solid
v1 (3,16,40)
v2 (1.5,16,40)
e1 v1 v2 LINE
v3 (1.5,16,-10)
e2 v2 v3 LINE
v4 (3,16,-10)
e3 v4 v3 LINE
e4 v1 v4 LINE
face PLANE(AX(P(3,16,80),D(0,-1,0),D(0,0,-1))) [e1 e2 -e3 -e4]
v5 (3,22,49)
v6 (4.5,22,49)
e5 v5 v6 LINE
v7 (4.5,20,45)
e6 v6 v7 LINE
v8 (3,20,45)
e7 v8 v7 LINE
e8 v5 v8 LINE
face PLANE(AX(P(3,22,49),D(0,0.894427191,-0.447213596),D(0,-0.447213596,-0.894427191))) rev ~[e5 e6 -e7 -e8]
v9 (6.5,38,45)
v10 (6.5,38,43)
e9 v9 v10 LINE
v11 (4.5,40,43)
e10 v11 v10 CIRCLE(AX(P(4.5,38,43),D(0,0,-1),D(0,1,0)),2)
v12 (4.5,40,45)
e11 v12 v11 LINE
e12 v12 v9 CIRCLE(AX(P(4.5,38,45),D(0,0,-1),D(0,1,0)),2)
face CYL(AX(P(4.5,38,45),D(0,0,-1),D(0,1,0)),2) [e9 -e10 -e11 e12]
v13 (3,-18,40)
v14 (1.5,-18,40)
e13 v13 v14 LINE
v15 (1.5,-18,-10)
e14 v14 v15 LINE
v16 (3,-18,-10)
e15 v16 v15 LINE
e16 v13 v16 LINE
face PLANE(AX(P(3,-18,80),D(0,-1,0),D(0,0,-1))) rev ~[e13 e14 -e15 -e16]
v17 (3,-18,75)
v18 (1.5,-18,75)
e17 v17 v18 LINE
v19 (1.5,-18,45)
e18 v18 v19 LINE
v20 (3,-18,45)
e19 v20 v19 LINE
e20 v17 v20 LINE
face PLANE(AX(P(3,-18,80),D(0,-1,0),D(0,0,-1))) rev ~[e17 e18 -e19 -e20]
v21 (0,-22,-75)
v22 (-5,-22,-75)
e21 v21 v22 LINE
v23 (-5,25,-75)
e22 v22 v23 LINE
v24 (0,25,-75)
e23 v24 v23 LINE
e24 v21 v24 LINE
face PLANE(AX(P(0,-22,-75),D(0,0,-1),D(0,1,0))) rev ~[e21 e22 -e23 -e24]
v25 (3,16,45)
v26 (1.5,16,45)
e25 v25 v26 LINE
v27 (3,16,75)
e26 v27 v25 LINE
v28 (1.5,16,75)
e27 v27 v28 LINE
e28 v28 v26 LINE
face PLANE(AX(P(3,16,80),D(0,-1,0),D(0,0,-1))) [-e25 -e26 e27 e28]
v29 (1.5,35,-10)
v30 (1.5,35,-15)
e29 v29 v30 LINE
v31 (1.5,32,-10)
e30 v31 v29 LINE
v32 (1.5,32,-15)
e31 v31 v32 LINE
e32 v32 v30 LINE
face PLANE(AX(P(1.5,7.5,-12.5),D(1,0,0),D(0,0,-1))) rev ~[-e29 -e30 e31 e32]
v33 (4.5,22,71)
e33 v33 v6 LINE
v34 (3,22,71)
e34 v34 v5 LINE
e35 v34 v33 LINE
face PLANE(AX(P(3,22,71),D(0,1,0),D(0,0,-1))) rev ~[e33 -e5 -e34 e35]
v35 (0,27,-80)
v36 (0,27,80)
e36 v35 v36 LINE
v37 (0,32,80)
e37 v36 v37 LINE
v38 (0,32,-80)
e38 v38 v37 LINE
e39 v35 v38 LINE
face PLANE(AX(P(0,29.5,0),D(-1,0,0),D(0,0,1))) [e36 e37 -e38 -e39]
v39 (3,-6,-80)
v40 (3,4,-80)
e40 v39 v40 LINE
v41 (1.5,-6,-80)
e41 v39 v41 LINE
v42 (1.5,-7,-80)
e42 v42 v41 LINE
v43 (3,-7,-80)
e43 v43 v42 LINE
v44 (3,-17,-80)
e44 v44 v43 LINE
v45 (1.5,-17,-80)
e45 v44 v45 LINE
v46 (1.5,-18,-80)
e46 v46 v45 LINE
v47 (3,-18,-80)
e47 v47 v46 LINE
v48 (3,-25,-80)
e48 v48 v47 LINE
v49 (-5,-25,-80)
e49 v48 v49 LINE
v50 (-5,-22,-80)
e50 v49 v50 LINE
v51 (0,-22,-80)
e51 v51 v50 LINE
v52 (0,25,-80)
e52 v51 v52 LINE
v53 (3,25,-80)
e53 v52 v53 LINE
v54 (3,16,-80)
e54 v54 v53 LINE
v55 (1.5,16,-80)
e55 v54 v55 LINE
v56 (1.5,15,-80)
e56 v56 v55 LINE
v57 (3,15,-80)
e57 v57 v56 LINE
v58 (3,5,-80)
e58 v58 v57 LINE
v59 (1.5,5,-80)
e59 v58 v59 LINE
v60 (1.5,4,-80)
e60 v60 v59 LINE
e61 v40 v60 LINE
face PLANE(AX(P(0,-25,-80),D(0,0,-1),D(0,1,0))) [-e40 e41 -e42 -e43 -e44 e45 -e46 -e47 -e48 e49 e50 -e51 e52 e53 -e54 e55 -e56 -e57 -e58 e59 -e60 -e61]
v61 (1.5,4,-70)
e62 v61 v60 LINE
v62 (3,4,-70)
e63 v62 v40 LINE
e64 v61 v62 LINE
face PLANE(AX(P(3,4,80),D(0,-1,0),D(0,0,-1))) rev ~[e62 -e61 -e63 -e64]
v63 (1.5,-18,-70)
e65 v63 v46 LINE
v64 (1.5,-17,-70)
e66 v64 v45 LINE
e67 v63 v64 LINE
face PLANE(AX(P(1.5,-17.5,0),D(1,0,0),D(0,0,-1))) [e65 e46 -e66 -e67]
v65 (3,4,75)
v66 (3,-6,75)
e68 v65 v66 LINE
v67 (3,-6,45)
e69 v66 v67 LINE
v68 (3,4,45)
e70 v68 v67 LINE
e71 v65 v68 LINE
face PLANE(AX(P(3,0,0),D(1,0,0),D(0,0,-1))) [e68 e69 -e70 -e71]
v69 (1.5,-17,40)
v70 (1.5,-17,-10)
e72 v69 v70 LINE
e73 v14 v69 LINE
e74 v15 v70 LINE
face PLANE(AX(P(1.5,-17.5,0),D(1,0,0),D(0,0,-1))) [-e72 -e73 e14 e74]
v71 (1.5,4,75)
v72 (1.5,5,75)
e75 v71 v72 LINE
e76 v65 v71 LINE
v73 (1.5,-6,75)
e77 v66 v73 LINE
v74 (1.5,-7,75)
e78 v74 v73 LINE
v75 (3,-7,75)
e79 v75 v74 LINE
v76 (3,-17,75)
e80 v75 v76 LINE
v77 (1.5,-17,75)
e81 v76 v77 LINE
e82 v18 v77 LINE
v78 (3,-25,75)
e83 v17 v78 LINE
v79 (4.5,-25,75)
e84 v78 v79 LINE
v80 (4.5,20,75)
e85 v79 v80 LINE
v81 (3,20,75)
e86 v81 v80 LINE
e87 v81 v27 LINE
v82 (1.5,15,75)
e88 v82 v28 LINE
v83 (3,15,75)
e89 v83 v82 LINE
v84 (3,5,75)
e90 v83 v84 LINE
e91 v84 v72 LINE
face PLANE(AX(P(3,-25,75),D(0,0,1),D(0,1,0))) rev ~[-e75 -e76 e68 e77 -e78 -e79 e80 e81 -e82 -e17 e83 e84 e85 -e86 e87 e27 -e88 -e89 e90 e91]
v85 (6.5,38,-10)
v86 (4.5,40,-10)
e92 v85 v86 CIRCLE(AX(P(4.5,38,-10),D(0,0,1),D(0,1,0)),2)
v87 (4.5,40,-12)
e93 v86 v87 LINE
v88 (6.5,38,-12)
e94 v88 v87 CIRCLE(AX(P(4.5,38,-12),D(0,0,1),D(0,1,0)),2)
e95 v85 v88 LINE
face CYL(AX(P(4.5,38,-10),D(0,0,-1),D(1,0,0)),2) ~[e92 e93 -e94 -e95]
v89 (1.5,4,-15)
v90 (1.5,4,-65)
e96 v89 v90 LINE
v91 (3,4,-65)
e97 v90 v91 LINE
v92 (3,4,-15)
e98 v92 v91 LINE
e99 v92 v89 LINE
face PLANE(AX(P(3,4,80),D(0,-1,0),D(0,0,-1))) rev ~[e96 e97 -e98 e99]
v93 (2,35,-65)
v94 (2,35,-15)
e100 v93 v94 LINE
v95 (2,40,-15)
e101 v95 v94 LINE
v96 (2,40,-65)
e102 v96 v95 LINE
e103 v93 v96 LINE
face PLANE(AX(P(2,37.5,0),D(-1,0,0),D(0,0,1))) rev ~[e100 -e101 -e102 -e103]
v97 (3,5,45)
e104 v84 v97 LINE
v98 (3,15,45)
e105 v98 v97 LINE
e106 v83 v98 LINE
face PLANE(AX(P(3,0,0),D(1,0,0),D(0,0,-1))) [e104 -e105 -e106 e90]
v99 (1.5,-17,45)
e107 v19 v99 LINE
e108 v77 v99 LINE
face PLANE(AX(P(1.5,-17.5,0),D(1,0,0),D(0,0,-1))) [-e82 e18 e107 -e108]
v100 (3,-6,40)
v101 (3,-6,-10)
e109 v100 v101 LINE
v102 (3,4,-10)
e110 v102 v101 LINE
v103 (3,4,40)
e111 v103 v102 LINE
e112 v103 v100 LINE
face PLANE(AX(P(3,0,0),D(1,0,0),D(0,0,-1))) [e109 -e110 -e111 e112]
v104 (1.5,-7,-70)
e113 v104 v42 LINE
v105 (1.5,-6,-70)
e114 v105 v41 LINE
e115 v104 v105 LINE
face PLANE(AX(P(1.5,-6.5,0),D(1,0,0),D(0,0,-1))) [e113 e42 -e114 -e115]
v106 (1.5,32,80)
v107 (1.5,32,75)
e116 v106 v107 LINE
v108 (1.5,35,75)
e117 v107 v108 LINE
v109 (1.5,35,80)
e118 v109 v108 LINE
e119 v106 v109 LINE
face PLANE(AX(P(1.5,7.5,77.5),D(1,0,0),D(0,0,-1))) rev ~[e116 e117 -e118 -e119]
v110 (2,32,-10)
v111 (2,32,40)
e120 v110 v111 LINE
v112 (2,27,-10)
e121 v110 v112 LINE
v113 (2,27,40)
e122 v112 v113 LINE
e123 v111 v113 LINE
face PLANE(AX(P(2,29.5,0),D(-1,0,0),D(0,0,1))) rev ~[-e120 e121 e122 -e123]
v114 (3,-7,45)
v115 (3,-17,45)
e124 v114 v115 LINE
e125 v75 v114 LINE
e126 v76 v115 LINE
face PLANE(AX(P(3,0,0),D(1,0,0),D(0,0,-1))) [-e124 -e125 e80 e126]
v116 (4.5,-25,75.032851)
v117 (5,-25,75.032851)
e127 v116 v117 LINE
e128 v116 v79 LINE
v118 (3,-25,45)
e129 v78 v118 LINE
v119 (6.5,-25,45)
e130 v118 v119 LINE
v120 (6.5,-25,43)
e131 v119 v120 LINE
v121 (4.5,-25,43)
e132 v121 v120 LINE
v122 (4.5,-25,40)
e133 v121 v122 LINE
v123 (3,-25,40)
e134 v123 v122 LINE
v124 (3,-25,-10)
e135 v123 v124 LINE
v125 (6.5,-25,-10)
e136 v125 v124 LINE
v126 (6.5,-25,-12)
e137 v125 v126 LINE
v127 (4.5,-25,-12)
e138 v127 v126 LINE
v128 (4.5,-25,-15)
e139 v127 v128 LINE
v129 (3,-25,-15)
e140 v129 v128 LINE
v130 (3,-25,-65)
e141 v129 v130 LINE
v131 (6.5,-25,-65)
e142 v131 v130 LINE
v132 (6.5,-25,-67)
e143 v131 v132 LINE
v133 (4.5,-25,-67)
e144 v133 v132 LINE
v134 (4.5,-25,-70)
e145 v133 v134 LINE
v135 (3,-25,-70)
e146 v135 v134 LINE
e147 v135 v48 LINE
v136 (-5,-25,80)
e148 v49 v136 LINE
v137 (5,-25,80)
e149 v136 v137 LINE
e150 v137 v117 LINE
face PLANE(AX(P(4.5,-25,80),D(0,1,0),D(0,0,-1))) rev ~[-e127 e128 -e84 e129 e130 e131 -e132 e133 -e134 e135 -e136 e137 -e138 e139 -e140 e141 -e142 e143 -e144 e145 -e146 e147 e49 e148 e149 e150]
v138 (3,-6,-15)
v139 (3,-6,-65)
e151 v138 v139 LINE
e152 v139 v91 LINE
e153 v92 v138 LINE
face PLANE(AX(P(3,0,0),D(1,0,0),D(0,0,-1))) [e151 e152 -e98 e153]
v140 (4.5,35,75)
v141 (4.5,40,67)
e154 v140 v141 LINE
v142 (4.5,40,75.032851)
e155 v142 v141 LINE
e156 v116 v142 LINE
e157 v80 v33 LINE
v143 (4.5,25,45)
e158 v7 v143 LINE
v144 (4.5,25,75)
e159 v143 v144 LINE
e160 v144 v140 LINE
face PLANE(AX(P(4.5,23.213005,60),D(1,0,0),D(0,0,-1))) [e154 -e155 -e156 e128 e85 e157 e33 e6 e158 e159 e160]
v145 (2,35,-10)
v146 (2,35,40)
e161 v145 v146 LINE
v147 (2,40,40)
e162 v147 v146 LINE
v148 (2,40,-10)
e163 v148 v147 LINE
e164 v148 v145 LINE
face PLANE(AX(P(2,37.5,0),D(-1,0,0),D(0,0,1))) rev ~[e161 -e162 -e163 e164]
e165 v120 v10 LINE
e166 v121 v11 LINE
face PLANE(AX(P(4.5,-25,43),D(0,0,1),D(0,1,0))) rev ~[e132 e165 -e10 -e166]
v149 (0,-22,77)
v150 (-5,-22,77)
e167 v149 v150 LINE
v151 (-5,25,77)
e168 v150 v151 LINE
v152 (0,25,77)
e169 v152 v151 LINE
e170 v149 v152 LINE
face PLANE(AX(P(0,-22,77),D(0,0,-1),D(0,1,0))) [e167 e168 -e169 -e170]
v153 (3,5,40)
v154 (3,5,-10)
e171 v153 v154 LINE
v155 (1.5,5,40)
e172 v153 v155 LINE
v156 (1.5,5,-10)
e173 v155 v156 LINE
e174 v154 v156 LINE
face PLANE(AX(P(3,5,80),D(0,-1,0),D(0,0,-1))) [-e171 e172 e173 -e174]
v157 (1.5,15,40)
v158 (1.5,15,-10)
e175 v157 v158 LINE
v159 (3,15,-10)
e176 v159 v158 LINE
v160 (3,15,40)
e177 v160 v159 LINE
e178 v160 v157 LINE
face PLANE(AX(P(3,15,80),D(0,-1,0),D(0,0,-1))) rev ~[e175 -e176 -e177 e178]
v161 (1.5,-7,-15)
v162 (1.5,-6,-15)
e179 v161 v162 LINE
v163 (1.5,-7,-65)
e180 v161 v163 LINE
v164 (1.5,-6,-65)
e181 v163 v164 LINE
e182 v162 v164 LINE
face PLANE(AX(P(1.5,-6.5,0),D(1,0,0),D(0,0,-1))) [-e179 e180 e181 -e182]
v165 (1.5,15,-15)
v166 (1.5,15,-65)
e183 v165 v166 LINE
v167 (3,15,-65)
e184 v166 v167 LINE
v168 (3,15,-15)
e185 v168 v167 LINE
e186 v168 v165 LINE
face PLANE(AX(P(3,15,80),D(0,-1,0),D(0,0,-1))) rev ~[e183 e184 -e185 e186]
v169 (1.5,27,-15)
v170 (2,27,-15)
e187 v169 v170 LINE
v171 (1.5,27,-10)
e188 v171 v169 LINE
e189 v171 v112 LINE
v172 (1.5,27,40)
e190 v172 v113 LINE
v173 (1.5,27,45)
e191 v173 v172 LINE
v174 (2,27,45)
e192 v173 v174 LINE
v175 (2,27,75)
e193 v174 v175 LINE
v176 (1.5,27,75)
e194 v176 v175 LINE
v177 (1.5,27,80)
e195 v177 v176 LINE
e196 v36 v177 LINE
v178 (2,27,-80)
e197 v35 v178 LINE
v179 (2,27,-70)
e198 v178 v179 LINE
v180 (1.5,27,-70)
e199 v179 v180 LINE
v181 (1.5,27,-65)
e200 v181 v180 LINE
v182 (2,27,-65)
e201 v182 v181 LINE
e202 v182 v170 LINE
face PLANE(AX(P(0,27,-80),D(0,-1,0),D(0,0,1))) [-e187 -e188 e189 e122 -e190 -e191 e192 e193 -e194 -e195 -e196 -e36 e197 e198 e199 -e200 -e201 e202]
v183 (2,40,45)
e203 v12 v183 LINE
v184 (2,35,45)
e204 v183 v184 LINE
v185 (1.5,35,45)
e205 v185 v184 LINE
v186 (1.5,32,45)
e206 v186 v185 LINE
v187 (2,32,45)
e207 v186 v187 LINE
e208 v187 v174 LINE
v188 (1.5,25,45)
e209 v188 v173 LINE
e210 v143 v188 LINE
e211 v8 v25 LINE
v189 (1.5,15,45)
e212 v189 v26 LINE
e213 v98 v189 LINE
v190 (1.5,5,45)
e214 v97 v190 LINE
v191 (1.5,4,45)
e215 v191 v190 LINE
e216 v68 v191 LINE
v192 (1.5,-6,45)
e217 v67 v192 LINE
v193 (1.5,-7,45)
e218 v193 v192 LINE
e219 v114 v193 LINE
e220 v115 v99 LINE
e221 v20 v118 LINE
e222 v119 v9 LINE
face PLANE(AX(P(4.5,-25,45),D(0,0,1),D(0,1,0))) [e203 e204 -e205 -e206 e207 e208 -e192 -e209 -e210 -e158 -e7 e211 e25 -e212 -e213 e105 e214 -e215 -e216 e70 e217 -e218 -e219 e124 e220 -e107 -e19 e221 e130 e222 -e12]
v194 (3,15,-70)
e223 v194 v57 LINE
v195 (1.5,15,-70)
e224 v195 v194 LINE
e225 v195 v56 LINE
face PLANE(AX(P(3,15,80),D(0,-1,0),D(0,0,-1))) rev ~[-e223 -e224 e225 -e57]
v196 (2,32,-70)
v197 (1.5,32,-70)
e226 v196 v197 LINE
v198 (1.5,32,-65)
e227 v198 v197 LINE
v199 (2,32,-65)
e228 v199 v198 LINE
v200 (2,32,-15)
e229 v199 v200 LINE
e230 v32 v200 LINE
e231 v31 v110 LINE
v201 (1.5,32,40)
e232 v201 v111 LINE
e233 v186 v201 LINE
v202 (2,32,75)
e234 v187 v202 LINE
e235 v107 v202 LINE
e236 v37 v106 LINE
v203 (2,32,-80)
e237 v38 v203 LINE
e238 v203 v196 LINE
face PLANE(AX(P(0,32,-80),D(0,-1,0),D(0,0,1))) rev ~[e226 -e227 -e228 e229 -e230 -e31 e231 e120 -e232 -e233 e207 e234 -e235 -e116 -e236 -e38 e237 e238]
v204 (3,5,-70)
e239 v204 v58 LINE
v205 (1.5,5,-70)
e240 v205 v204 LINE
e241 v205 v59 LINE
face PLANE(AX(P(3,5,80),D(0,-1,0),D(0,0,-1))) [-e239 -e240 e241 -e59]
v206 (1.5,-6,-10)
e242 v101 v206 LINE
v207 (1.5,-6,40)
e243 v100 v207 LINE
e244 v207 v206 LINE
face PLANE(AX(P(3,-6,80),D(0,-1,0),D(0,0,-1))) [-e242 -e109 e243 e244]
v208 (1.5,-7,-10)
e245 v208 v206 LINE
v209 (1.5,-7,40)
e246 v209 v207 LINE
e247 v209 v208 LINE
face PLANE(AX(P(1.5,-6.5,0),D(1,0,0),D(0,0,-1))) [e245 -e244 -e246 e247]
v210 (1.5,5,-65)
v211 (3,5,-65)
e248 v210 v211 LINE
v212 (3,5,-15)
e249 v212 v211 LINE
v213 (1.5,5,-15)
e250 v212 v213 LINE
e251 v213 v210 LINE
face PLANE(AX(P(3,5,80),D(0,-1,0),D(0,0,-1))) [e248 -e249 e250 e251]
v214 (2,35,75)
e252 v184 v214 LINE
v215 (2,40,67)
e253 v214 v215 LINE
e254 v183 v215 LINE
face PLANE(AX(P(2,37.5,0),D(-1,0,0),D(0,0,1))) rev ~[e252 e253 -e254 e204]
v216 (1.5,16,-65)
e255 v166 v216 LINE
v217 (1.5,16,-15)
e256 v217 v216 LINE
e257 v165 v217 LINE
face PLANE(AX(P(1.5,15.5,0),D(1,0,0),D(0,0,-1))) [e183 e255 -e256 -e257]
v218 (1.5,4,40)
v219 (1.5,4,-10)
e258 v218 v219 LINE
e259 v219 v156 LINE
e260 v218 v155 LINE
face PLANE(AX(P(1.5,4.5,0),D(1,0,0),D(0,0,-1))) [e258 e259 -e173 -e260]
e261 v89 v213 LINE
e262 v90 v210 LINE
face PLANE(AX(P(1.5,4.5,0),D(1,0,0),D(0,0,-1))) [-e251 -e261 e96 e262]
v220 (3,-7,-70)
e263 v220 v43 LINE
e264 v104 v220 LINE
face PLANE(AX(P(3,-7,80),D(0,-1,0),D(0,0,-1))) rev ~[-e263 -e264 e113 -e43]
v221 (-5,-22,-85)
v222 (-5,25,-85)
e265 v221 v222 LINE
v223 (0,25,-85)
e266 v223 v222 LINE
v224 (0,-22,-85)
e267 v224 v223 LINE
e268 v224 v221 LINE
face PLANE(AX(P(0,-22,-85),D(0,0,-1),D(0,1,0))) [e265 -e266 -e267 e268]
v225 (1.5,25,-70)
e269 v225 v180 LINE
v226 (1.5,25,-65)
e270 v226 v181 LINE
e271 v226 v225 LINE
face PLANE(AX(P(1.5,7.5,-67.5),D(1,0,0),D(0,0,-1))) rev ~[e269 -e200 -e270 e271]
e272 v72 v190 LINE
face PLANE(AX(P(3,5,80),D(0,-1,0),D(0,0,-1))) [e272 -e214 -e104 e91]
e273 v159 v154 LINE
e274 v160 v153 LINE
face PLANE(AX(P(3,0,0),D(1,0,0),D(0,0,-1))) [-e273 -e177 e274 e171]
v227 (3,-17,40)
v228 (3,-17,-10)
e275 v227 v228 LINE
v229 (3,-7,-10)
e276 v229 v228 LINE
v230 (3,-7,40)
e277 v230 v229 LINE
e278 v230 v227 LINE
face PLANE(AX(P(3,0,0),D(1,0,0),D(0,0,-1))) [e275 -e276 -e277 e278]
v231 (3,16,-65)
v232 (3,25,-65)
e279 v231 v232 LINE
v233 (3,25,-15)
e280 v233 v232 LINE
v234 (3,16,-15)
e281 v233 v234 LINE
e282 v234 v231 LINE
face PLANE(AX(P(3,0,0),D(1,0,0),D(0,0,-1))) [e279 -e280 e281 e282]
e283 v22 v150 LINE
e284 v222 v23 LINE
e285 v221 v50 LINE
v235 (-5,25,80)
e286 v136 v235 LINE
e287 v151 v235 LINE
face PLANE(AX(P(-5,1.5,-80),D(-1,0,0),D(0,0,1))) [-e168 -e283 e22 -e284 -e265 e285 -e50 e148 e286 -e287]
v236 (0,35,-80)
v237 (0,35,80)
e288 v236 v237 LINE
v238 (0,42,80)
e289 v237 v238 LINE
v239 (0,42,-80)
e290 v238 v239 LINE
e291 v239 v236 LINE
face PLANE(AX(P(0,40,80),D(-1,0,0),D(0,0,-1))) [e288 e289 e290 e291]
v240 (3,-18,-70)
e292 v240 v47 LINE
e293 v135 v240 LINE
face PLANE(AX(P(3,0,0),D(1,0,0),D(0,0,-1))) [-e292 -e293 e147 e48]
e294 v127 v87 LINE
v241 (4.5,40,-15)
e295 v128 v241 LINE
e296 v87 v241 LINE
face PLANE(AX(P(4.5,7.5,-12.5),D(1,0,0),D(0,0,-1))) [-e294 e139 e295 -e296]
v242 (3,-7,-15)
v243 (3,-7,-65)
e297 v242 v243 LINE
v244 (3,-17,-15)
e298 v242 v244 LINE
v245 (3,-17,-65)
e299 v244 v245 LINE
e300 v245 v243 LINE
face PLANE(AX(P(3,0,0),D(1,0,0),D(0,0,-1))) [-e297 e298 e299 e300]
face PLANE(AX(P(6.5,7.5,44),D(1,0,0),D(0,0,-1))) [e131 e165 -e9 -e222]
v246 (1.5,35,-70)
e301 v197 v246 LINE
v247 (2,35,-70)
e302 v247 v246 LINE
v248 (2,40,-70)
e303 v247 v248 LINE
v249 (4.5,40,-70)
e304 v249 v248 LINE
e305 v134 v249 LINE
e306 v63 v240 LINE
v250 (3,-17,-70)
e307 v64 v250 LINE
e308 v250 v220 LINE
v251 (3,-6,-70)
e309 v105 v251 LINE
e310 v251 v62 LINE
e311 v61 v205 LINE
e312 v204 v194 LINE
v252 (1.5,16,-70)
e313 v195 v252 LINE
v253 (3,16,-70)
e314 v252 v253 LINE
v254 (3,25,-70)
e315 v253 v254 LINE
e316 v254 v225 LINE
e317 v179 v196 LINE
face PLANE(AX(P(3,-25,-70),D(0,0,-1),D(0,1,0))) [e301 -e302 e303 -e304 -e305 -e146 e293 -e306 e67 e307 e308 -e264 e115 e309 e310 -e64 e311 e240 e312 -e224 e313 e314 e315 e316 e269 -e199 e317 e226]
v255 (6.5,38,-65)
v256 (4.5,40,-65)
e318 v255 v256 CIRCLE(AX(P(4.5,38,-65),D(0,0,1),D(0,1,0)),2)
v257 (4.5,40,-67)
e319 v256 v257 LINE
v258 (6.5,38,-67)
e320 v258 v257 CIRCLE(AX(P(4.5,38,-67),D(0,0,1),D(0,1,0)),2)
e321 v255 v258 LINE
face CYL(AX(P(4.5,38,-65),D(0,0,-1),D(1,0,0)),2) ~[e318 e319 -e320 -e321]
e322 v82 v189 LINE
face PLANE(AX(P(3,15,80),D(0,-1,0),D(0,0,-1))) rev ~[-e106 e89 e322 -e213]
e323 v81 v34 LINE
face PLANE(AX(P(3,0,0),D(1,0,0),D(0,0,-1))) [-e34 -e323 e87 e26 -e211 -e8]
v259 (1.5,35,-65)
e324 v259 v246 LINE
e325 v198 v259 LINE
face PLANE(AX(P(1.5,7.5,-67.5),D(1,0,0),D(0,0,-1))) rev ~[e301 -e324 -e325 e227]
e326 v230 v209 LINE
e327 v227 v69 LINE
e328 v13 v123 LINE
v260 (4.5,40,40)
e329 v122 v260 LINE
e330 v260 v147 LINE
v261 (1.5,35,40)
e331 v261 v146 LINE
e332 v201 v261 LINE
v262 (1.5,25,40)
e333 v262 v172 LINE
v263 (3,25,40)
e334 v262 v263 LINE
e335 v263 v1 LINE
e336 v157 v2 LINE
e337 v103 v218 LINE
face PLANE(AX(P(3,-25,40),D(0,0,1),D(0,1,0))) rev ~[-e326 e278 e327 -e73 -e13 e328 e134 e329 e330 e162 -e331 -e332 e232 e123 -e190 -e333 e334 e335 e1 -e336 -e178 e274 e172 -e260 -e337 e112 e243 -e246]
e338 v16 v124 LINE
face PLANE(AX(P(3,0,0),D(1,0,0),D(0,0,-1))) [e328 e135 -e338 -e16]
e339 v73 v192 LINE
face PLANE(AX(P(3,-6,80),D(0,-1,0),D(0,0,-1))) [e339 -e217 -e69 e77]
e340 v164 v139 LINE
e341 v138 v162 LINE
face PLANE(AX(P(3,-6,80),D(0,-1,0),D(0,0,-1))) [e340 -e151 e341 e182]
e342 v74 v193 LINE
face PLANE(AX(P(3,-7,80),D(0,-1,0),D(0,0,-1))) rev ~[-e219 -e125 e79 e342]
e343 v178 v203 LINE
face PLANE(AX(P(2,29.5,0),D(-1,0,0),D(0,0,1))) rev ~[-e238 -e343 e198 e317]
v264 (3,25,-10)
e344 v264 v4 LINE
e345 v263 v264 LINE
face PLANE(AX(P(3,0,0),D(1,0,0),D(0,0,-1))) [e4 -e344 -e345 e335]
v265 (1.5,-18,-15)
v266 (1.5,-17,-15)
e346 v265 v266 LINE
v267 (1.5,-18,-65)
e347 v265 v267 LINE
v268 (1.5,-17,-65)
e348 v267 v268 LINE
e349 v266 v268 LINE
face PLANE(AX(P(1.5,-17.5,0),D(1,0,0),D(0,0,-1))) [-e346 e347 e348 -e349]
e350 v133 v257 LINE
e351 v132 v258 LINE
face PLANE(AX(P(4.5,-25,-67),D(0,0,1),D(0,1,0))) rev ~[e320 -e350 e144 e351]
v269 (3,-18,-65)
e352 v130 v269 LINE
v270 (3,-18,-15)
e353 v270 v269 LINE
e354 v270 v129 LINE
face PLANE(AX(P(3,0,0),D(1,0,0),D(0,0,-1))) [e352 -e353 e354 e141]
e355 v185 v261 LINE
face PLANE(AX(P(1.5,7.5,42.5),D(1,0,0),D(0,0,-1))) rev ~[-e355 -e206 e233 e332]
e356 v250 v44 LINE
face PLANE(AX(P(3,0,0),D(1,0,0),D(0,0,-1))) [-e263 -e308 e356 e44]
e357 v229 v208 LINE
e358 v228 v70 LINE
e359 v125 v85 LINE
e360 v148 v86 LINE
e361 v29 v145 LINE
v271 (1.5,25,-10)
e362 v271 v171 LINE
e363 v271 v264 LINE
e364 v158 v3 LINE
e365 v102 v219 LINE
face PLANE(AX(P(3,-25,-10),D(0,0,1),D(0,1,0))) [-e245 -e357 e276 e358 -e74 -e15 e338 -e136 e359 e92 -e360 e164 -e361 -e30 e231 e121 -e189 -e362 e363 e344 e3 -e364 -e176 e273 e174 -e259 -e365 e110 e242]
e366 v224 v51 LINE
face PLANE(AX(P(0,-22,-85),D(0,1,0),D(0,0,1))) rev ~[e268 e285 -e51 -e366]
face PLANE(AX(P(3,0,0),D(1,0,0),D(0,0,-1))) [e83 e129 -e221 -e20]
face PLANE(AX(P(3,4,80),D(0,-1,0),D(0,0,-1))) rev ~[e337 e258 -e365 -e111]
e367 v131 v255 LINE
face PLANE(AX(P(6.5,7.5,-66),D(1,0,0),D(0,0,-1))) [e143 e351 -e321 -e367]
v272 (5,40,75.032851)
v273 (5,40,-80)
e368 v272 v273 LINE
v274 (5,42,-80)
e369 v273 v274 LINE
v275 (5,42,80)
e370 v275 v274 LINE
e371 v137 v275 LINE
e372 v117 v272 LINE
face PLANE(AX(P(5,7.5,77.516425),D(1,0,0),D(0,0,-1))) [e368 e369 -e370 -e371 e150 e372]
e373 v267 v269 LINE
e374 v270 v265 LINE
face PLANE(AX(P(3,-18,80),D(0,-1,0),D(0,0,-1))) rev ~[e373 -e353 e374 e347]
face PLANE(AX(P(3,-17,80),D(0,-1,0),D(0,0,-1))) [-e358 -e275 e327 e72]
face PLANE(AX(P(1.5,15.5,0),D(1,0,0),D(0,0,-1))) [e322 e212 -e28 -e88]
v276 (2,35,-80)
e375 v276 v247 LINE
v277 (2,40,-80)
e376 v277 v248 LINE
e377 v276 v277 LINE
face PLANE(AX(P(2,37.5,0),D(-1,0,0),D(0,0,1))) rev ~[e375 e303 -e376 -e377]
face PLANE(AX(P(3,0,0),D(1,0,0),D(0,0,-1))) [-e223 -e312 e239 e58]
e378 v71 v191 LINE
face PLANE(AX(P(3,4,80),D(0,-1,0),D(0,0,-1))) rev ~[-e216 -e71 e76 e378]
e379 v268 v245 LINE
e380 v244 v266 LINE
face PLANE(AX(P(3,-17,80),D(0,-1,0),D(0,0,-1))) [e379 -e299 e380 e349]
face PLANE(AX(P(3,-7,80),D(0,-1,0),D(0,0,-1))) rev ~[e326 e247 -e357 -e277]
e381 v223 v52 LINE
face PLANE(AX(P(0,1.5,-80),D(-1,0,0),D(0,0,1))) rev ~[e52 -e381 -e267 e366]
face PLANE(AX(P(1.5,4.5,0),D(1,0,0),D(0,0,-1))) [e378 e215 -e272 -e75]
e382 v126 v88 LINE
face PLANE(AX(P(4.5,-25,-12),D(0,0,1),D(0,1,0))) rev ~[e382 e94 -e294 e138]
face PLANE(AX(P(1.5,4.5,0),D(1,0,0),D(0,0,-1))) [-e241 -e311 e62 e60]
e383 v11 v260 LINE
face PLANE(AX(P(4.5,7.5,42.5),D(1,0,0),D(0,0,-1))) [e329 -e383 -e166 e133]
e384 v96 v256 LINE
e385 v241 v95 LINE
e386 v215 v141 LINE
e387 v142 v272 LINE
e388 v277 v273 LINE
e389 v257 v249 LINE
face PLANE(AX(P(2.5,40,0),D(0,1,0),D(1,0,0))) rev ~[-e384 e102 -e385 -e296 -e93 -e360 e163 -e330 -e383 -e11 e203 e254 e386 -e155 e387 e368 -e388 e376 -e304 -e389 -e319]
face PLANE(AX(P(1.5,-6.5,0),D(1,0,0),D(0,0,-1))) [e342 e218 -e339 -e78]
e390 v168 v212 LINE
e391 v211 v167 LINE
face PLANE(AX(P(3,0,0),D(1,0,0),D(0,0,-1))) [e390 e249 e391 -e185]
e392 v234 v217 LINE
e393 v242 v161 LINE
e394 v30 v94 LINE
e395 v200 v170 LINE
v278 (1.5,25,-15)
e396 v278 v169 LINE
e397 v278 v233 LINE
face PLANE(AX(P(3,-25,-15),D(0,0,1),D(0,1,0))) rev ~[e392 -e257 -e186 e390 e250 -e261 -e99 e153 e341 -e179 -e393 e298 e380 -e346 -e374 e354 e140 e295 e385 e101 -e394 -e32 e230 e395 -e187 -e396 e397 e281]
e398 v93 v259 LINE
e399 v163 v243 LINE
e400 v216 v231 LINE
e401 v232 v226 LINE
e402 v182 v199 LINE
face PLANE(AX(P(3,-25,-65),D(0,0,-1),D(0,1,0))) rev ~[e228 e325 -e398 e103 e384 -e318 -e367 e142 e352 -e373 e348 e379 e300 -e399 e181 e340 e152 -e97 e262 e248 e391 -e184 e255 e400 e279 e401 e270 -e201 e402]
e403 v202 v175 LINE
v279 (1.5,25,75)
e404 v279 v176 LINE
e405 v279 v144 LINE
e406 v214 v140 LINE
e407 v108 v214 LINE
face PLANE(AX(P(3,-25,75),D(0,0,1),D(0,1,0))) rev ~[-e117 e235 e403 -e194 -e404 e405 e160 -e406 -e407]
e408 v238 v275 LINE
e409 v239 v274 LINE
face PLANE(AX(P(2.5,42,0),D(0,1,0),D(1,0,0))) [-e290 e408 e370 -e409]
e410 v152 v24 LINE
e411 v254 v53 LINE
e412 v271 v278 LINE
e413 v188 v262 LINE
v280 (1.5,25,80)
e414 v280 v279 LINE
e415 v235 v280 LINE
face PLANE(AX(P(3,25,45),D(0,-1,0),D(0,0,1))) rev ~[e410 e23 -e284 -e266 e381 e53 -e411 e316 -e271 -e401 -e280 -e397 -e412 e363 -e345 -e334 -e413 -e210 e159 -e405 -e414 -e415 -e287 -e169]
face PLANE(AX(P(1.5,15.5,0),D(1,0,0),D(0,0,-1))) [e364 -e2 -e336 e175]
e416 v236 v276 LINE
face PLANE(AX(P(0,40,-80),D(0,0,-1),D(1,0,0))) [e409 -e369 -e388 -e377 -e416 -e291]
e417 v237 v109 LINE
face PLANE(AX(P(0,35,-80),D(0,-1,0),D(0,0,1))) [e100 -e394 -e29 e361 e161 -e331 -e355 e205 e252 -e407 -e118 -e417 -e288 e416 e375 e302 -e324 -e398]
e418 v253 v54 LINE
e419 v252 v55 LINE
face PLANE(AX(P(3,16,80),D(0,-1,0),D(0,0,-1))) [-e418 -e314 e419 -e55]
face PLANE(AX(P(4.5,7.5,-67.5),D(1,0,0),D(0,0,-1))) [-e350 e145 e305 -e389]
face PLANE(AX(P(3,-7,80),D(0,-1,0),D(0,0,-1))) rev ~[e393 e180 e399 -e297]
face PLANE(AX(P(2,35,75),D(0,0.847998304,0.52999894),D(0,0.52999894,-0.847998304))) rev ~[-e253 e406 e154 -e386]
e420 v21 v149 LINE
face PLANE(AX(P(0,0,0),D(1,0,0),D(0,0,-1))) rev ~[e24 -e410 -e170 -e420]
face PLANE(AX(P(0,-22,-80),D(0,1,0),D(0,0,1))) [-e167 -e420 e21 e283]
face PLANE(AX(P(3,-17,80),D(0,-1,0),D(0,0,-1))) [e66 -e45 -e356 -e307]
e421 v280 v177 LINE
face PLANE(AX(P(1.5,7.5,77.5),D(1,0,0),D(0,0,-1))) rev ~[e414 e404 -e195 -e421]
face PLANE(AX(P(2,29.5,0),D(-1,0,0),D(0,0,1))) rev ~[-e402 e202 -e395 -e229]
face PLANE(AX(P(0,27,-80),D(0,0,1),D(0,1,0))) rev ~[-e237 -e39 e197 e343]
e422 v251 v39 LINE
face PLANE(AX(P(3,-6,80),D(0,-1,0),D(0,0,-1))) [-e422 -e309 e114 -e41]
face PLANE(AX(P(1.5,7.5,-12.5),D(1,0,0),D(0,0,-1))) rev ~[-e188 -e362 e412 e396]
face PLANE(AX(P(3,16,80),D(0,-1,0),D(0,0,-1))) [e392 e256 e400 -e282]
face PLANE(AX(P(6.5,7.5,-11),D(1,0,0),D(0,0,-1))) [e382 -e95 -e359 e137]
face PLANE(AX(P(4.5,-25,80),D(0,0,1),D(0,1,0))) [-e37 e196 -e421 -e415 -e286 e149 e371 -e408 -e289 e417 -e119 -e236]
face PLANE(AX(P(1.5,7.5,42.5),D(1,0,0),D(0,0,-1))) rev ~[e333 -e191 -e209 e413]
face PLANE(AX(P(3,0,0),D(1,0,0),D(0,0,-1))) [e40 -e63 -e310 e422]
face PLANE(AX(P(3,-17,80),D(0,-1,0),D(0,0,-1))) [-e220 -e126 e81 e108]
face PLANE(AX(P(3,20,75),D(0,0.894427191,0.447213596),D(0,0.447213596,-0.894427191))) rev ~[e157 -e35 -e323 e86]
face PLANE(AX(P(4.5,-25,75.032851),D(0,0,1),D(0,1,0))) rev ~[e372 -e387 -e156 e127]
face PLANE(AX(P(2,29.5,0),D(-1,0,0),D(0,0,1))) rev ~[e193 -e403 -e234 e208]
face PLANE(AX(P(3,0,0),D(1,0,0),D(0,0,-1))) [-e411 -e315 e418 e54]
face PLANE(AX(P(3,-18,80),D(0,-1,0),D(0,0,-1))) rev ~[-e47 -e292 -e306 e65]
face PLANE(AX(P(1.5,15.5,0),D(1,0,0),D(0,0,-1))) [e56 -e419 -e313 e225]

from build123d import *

# Parameters (mm, degrees)
SKETCH1_W            = 160
SKETCH1_H            = 50
BOSS_EXTRUDE1_DEPTH  = 3
SKETCH2_W            = 160
SKETCH2_H            = 1
CUT_EXTRUDE1_DEPTH   = 1.5
SKETCH3_W            = 5
SKETCH3_H            = 65
BOSS_EXTRUDE2_DEPTH  = 1.5
SKETCH4_W            = 160
SKETCH4_H            = 3
BOSS_EXTRUDE3_DEPTH  = 5
SKETCH5_W            = 3
SKETCH5_H            = 47
BOSS_EXTRUDE4_DEPTH  = 5
SKETCH6_W            = 160
SKETCH6_H            = 5
BOSS_EXTRUDE5_DEPTH  = 2
SKETCH7_W            = 2
SKETCH7_H            = 65
BOSS_EXTRUDE6_DEPTH  = 2
FILLET1_R            = 2
SKETCH8_W            = 5
SKETCH8_H            = 160
BOSS_EXTRUDE7_DEPTH  = 2
SKETCH9_W            = 10
SKETCH9_H            = 47
BOSS_EXTRUDE8_DEPTH  = 5
BOSS_EXTRUDE9_DEPTH  = 2.5
BOSS_EXTRUDE10_DEPTH = 1.5
SKETCH12_W           = 4.967149052
SKETCH12_H           = 65
BOSS_EXTRUDE11_DEPTH = 0.5


with BuildPart() as part:
    # Sketch1 → Boss-Extrude1 (new body)
    with BuildSketch(Plane(origin=(0, 0, 0), x_dir=(0, 0, -1), z_dir=(1, 0, 0))):
        Rectangle(SKETCH1_W, SKETCH1_H)
    extrude(amount=BOSS_EXTRUDE1_DEPTH)

    # Sketch2 → Cut-Extrude1 (cut)
    with BuildSketch(Plane(origin=(3, 0, 0), x_dir=(0, 0, -1), z_dir=(1, 0, 0))):
        with Locations((0, -17.5)):
            Rectangle(SKETCH2_W, SKETCH2_H)
        with Locations((0, -6.5)):
            Rectangle(SKETCH2_W, SKETCH2_H)
        with Locations((0, 4.5)):
            Rectangle(SKETCH2_W, SKETCH2_H)
        with Locations((0, 15.5)):
            Rectangle(SKETCH2_W, SKETCH2_H)
    extrude(amount=-CUT_EXTRUDE1_DEPTH, mode=Mode.SUBTRACT)

    # Sketch3 → Boss-Extrude2 (add, symmetric)
    with BuildSketch(Plane(origin=(3, 0, 0), x_dir=(0, 0, -1), z_dir=(1, 0, 0))):
        with Locations((-77.5, 7.5)):
            Rectangle(SKETCH3_W, SKETCH3_H)
        with Locations((-42.5, 7.5)):
            Rectangle(SKETCH3_W, SKETCH3_H)
        with Locations((12.5, 7.5)):
            Rectangle(SKETCH3_W, SKETCH3_H)
        with Locations((67.5, 7.5)):
            Rectangle(SKETCH3_W, SKETCH3_H)
    extrude(amount=BOSS_EXTRUDE2_DEPTH, both=True)

    # Sketch4 → Boss-Extrude3 (add)
    with BuildSketch(Plane.ZY):
        with Locations((0, -23.5)):
            Rectangle(SKETCH4_W, SKETCH4_H)
    extrude(amount=BOSS_EXTRUDE3_DEPTH)

    # Sketch5 → Boss-Extrude4 (add)
    with BuildSketch(Plane.ZY):
        with Locations((78.5, 1.5)):
            Rectangle(SKETCH5_W, SKETCH5_H)
    extrude(amount=BOSS_EXTRUDE4_DEPTH)

    # Sketch6 → Boss-Extrude5 (add)
    with BuildSketch(Plane.ZY):
        with Locations((0, 29.5)):
            Rectangle(SKETCH6_W, SKETCH6_H)
        with Locations((0, 37.5)):
            Rectangle(SKETCH6_W, SKETCH6_H)
    extrude(amount=-BOSS_EXTRUDE5_DEPTH)

    # Sketch7 → Boss-Extrude6 (add)
    with BuildSketch(Plane(origin=(4.5, 0, 0), x_dir=(0, 0, -1), z_dir=(1, 0, 0))):
        with Locations((-44, 7.5)):
            Rectangle(SKETCH7_W, SKETCH7_H)
        with Locations((11, 7.5)):
            Rectangle(SKETCH7_W, SKETCH7_H)
        with Locations((66, 7.5)):
            Rectangle(SKETCH7_W, SKETCH7_H)
    extrude(amount=BOSS_EXTRUDE6_DEPTH)

    # Fillet1
    fillet1_edges = [part.edges().sort_by_distance(p)[0] for p in [
        (6.5, 40, -66),
        (6.5, 40, -11),
        (6.5, 40, 44),
    ]]
    fillet(fillet1_edges, radius=FILLET1_R)

    # Sketch8 → Boss-Extrude7 (add)
    with BuildSketch(Plane(origin=(0, 40, 0), x_dir=(1, 0, 0), z_dir=(0, 1, 0))):
        with Locations((2.5, 0)):
            Rectangle(SKETCH8_W, SKETCH8_H)
    extrude(amount=BOSS_EXTRUDE7_DEPTH)

    # Sketch9 → Boss-Extrude8 (add)
    with BuildSketch(Plane.ZY):
        with Locations((-80, 1.5)):
            Rectangle(SKETCH9_W, SKETCH9_H)
    extrude(amount=BOSS_EXTRUDE8_DEPTH)

    # Sketch10 → Boss-Extrude9 (add)
    with BuildSketch(Plane(origin=(2, 0, 0), x_dir=(0, 0, -1), z_dir=(1, 0, 0))):
        Polygon((-75, 40), (-75, 35), (-67, 40), align=None)
    extrude(amount=BOSS_EXTRUDE9_DEPTH)

    # Sketch11 → Boss-Extrude10 (add)
    with BuildSketch(Plane(origin=(3, 0, 0), x_dir=(0, 0, -1), z_dir=(1, 0, 0))):
        Polygon((-45, 25), (-75, 25), (-75, 20), (-71, 22), (-49, 22), (-45, 20), align=None)
    extrude(amount=BOSS_EXTRUDE10_DEPTH)

    # Sketch12 → Boss-Extrude11 (add)
    with BuildSketch(Plane(origin=(4.5, 0, 0), x_dir=(0, 0, -1), z_dir=(1, 0, 0))):
        with Locations((-77.516425474, 7.5)):
            Rectangle(SKETCH12_W, SKETCH12_H)
    extrude(amount=BOSS_EXTRUDE11_DEPTH)


solid = part.part
